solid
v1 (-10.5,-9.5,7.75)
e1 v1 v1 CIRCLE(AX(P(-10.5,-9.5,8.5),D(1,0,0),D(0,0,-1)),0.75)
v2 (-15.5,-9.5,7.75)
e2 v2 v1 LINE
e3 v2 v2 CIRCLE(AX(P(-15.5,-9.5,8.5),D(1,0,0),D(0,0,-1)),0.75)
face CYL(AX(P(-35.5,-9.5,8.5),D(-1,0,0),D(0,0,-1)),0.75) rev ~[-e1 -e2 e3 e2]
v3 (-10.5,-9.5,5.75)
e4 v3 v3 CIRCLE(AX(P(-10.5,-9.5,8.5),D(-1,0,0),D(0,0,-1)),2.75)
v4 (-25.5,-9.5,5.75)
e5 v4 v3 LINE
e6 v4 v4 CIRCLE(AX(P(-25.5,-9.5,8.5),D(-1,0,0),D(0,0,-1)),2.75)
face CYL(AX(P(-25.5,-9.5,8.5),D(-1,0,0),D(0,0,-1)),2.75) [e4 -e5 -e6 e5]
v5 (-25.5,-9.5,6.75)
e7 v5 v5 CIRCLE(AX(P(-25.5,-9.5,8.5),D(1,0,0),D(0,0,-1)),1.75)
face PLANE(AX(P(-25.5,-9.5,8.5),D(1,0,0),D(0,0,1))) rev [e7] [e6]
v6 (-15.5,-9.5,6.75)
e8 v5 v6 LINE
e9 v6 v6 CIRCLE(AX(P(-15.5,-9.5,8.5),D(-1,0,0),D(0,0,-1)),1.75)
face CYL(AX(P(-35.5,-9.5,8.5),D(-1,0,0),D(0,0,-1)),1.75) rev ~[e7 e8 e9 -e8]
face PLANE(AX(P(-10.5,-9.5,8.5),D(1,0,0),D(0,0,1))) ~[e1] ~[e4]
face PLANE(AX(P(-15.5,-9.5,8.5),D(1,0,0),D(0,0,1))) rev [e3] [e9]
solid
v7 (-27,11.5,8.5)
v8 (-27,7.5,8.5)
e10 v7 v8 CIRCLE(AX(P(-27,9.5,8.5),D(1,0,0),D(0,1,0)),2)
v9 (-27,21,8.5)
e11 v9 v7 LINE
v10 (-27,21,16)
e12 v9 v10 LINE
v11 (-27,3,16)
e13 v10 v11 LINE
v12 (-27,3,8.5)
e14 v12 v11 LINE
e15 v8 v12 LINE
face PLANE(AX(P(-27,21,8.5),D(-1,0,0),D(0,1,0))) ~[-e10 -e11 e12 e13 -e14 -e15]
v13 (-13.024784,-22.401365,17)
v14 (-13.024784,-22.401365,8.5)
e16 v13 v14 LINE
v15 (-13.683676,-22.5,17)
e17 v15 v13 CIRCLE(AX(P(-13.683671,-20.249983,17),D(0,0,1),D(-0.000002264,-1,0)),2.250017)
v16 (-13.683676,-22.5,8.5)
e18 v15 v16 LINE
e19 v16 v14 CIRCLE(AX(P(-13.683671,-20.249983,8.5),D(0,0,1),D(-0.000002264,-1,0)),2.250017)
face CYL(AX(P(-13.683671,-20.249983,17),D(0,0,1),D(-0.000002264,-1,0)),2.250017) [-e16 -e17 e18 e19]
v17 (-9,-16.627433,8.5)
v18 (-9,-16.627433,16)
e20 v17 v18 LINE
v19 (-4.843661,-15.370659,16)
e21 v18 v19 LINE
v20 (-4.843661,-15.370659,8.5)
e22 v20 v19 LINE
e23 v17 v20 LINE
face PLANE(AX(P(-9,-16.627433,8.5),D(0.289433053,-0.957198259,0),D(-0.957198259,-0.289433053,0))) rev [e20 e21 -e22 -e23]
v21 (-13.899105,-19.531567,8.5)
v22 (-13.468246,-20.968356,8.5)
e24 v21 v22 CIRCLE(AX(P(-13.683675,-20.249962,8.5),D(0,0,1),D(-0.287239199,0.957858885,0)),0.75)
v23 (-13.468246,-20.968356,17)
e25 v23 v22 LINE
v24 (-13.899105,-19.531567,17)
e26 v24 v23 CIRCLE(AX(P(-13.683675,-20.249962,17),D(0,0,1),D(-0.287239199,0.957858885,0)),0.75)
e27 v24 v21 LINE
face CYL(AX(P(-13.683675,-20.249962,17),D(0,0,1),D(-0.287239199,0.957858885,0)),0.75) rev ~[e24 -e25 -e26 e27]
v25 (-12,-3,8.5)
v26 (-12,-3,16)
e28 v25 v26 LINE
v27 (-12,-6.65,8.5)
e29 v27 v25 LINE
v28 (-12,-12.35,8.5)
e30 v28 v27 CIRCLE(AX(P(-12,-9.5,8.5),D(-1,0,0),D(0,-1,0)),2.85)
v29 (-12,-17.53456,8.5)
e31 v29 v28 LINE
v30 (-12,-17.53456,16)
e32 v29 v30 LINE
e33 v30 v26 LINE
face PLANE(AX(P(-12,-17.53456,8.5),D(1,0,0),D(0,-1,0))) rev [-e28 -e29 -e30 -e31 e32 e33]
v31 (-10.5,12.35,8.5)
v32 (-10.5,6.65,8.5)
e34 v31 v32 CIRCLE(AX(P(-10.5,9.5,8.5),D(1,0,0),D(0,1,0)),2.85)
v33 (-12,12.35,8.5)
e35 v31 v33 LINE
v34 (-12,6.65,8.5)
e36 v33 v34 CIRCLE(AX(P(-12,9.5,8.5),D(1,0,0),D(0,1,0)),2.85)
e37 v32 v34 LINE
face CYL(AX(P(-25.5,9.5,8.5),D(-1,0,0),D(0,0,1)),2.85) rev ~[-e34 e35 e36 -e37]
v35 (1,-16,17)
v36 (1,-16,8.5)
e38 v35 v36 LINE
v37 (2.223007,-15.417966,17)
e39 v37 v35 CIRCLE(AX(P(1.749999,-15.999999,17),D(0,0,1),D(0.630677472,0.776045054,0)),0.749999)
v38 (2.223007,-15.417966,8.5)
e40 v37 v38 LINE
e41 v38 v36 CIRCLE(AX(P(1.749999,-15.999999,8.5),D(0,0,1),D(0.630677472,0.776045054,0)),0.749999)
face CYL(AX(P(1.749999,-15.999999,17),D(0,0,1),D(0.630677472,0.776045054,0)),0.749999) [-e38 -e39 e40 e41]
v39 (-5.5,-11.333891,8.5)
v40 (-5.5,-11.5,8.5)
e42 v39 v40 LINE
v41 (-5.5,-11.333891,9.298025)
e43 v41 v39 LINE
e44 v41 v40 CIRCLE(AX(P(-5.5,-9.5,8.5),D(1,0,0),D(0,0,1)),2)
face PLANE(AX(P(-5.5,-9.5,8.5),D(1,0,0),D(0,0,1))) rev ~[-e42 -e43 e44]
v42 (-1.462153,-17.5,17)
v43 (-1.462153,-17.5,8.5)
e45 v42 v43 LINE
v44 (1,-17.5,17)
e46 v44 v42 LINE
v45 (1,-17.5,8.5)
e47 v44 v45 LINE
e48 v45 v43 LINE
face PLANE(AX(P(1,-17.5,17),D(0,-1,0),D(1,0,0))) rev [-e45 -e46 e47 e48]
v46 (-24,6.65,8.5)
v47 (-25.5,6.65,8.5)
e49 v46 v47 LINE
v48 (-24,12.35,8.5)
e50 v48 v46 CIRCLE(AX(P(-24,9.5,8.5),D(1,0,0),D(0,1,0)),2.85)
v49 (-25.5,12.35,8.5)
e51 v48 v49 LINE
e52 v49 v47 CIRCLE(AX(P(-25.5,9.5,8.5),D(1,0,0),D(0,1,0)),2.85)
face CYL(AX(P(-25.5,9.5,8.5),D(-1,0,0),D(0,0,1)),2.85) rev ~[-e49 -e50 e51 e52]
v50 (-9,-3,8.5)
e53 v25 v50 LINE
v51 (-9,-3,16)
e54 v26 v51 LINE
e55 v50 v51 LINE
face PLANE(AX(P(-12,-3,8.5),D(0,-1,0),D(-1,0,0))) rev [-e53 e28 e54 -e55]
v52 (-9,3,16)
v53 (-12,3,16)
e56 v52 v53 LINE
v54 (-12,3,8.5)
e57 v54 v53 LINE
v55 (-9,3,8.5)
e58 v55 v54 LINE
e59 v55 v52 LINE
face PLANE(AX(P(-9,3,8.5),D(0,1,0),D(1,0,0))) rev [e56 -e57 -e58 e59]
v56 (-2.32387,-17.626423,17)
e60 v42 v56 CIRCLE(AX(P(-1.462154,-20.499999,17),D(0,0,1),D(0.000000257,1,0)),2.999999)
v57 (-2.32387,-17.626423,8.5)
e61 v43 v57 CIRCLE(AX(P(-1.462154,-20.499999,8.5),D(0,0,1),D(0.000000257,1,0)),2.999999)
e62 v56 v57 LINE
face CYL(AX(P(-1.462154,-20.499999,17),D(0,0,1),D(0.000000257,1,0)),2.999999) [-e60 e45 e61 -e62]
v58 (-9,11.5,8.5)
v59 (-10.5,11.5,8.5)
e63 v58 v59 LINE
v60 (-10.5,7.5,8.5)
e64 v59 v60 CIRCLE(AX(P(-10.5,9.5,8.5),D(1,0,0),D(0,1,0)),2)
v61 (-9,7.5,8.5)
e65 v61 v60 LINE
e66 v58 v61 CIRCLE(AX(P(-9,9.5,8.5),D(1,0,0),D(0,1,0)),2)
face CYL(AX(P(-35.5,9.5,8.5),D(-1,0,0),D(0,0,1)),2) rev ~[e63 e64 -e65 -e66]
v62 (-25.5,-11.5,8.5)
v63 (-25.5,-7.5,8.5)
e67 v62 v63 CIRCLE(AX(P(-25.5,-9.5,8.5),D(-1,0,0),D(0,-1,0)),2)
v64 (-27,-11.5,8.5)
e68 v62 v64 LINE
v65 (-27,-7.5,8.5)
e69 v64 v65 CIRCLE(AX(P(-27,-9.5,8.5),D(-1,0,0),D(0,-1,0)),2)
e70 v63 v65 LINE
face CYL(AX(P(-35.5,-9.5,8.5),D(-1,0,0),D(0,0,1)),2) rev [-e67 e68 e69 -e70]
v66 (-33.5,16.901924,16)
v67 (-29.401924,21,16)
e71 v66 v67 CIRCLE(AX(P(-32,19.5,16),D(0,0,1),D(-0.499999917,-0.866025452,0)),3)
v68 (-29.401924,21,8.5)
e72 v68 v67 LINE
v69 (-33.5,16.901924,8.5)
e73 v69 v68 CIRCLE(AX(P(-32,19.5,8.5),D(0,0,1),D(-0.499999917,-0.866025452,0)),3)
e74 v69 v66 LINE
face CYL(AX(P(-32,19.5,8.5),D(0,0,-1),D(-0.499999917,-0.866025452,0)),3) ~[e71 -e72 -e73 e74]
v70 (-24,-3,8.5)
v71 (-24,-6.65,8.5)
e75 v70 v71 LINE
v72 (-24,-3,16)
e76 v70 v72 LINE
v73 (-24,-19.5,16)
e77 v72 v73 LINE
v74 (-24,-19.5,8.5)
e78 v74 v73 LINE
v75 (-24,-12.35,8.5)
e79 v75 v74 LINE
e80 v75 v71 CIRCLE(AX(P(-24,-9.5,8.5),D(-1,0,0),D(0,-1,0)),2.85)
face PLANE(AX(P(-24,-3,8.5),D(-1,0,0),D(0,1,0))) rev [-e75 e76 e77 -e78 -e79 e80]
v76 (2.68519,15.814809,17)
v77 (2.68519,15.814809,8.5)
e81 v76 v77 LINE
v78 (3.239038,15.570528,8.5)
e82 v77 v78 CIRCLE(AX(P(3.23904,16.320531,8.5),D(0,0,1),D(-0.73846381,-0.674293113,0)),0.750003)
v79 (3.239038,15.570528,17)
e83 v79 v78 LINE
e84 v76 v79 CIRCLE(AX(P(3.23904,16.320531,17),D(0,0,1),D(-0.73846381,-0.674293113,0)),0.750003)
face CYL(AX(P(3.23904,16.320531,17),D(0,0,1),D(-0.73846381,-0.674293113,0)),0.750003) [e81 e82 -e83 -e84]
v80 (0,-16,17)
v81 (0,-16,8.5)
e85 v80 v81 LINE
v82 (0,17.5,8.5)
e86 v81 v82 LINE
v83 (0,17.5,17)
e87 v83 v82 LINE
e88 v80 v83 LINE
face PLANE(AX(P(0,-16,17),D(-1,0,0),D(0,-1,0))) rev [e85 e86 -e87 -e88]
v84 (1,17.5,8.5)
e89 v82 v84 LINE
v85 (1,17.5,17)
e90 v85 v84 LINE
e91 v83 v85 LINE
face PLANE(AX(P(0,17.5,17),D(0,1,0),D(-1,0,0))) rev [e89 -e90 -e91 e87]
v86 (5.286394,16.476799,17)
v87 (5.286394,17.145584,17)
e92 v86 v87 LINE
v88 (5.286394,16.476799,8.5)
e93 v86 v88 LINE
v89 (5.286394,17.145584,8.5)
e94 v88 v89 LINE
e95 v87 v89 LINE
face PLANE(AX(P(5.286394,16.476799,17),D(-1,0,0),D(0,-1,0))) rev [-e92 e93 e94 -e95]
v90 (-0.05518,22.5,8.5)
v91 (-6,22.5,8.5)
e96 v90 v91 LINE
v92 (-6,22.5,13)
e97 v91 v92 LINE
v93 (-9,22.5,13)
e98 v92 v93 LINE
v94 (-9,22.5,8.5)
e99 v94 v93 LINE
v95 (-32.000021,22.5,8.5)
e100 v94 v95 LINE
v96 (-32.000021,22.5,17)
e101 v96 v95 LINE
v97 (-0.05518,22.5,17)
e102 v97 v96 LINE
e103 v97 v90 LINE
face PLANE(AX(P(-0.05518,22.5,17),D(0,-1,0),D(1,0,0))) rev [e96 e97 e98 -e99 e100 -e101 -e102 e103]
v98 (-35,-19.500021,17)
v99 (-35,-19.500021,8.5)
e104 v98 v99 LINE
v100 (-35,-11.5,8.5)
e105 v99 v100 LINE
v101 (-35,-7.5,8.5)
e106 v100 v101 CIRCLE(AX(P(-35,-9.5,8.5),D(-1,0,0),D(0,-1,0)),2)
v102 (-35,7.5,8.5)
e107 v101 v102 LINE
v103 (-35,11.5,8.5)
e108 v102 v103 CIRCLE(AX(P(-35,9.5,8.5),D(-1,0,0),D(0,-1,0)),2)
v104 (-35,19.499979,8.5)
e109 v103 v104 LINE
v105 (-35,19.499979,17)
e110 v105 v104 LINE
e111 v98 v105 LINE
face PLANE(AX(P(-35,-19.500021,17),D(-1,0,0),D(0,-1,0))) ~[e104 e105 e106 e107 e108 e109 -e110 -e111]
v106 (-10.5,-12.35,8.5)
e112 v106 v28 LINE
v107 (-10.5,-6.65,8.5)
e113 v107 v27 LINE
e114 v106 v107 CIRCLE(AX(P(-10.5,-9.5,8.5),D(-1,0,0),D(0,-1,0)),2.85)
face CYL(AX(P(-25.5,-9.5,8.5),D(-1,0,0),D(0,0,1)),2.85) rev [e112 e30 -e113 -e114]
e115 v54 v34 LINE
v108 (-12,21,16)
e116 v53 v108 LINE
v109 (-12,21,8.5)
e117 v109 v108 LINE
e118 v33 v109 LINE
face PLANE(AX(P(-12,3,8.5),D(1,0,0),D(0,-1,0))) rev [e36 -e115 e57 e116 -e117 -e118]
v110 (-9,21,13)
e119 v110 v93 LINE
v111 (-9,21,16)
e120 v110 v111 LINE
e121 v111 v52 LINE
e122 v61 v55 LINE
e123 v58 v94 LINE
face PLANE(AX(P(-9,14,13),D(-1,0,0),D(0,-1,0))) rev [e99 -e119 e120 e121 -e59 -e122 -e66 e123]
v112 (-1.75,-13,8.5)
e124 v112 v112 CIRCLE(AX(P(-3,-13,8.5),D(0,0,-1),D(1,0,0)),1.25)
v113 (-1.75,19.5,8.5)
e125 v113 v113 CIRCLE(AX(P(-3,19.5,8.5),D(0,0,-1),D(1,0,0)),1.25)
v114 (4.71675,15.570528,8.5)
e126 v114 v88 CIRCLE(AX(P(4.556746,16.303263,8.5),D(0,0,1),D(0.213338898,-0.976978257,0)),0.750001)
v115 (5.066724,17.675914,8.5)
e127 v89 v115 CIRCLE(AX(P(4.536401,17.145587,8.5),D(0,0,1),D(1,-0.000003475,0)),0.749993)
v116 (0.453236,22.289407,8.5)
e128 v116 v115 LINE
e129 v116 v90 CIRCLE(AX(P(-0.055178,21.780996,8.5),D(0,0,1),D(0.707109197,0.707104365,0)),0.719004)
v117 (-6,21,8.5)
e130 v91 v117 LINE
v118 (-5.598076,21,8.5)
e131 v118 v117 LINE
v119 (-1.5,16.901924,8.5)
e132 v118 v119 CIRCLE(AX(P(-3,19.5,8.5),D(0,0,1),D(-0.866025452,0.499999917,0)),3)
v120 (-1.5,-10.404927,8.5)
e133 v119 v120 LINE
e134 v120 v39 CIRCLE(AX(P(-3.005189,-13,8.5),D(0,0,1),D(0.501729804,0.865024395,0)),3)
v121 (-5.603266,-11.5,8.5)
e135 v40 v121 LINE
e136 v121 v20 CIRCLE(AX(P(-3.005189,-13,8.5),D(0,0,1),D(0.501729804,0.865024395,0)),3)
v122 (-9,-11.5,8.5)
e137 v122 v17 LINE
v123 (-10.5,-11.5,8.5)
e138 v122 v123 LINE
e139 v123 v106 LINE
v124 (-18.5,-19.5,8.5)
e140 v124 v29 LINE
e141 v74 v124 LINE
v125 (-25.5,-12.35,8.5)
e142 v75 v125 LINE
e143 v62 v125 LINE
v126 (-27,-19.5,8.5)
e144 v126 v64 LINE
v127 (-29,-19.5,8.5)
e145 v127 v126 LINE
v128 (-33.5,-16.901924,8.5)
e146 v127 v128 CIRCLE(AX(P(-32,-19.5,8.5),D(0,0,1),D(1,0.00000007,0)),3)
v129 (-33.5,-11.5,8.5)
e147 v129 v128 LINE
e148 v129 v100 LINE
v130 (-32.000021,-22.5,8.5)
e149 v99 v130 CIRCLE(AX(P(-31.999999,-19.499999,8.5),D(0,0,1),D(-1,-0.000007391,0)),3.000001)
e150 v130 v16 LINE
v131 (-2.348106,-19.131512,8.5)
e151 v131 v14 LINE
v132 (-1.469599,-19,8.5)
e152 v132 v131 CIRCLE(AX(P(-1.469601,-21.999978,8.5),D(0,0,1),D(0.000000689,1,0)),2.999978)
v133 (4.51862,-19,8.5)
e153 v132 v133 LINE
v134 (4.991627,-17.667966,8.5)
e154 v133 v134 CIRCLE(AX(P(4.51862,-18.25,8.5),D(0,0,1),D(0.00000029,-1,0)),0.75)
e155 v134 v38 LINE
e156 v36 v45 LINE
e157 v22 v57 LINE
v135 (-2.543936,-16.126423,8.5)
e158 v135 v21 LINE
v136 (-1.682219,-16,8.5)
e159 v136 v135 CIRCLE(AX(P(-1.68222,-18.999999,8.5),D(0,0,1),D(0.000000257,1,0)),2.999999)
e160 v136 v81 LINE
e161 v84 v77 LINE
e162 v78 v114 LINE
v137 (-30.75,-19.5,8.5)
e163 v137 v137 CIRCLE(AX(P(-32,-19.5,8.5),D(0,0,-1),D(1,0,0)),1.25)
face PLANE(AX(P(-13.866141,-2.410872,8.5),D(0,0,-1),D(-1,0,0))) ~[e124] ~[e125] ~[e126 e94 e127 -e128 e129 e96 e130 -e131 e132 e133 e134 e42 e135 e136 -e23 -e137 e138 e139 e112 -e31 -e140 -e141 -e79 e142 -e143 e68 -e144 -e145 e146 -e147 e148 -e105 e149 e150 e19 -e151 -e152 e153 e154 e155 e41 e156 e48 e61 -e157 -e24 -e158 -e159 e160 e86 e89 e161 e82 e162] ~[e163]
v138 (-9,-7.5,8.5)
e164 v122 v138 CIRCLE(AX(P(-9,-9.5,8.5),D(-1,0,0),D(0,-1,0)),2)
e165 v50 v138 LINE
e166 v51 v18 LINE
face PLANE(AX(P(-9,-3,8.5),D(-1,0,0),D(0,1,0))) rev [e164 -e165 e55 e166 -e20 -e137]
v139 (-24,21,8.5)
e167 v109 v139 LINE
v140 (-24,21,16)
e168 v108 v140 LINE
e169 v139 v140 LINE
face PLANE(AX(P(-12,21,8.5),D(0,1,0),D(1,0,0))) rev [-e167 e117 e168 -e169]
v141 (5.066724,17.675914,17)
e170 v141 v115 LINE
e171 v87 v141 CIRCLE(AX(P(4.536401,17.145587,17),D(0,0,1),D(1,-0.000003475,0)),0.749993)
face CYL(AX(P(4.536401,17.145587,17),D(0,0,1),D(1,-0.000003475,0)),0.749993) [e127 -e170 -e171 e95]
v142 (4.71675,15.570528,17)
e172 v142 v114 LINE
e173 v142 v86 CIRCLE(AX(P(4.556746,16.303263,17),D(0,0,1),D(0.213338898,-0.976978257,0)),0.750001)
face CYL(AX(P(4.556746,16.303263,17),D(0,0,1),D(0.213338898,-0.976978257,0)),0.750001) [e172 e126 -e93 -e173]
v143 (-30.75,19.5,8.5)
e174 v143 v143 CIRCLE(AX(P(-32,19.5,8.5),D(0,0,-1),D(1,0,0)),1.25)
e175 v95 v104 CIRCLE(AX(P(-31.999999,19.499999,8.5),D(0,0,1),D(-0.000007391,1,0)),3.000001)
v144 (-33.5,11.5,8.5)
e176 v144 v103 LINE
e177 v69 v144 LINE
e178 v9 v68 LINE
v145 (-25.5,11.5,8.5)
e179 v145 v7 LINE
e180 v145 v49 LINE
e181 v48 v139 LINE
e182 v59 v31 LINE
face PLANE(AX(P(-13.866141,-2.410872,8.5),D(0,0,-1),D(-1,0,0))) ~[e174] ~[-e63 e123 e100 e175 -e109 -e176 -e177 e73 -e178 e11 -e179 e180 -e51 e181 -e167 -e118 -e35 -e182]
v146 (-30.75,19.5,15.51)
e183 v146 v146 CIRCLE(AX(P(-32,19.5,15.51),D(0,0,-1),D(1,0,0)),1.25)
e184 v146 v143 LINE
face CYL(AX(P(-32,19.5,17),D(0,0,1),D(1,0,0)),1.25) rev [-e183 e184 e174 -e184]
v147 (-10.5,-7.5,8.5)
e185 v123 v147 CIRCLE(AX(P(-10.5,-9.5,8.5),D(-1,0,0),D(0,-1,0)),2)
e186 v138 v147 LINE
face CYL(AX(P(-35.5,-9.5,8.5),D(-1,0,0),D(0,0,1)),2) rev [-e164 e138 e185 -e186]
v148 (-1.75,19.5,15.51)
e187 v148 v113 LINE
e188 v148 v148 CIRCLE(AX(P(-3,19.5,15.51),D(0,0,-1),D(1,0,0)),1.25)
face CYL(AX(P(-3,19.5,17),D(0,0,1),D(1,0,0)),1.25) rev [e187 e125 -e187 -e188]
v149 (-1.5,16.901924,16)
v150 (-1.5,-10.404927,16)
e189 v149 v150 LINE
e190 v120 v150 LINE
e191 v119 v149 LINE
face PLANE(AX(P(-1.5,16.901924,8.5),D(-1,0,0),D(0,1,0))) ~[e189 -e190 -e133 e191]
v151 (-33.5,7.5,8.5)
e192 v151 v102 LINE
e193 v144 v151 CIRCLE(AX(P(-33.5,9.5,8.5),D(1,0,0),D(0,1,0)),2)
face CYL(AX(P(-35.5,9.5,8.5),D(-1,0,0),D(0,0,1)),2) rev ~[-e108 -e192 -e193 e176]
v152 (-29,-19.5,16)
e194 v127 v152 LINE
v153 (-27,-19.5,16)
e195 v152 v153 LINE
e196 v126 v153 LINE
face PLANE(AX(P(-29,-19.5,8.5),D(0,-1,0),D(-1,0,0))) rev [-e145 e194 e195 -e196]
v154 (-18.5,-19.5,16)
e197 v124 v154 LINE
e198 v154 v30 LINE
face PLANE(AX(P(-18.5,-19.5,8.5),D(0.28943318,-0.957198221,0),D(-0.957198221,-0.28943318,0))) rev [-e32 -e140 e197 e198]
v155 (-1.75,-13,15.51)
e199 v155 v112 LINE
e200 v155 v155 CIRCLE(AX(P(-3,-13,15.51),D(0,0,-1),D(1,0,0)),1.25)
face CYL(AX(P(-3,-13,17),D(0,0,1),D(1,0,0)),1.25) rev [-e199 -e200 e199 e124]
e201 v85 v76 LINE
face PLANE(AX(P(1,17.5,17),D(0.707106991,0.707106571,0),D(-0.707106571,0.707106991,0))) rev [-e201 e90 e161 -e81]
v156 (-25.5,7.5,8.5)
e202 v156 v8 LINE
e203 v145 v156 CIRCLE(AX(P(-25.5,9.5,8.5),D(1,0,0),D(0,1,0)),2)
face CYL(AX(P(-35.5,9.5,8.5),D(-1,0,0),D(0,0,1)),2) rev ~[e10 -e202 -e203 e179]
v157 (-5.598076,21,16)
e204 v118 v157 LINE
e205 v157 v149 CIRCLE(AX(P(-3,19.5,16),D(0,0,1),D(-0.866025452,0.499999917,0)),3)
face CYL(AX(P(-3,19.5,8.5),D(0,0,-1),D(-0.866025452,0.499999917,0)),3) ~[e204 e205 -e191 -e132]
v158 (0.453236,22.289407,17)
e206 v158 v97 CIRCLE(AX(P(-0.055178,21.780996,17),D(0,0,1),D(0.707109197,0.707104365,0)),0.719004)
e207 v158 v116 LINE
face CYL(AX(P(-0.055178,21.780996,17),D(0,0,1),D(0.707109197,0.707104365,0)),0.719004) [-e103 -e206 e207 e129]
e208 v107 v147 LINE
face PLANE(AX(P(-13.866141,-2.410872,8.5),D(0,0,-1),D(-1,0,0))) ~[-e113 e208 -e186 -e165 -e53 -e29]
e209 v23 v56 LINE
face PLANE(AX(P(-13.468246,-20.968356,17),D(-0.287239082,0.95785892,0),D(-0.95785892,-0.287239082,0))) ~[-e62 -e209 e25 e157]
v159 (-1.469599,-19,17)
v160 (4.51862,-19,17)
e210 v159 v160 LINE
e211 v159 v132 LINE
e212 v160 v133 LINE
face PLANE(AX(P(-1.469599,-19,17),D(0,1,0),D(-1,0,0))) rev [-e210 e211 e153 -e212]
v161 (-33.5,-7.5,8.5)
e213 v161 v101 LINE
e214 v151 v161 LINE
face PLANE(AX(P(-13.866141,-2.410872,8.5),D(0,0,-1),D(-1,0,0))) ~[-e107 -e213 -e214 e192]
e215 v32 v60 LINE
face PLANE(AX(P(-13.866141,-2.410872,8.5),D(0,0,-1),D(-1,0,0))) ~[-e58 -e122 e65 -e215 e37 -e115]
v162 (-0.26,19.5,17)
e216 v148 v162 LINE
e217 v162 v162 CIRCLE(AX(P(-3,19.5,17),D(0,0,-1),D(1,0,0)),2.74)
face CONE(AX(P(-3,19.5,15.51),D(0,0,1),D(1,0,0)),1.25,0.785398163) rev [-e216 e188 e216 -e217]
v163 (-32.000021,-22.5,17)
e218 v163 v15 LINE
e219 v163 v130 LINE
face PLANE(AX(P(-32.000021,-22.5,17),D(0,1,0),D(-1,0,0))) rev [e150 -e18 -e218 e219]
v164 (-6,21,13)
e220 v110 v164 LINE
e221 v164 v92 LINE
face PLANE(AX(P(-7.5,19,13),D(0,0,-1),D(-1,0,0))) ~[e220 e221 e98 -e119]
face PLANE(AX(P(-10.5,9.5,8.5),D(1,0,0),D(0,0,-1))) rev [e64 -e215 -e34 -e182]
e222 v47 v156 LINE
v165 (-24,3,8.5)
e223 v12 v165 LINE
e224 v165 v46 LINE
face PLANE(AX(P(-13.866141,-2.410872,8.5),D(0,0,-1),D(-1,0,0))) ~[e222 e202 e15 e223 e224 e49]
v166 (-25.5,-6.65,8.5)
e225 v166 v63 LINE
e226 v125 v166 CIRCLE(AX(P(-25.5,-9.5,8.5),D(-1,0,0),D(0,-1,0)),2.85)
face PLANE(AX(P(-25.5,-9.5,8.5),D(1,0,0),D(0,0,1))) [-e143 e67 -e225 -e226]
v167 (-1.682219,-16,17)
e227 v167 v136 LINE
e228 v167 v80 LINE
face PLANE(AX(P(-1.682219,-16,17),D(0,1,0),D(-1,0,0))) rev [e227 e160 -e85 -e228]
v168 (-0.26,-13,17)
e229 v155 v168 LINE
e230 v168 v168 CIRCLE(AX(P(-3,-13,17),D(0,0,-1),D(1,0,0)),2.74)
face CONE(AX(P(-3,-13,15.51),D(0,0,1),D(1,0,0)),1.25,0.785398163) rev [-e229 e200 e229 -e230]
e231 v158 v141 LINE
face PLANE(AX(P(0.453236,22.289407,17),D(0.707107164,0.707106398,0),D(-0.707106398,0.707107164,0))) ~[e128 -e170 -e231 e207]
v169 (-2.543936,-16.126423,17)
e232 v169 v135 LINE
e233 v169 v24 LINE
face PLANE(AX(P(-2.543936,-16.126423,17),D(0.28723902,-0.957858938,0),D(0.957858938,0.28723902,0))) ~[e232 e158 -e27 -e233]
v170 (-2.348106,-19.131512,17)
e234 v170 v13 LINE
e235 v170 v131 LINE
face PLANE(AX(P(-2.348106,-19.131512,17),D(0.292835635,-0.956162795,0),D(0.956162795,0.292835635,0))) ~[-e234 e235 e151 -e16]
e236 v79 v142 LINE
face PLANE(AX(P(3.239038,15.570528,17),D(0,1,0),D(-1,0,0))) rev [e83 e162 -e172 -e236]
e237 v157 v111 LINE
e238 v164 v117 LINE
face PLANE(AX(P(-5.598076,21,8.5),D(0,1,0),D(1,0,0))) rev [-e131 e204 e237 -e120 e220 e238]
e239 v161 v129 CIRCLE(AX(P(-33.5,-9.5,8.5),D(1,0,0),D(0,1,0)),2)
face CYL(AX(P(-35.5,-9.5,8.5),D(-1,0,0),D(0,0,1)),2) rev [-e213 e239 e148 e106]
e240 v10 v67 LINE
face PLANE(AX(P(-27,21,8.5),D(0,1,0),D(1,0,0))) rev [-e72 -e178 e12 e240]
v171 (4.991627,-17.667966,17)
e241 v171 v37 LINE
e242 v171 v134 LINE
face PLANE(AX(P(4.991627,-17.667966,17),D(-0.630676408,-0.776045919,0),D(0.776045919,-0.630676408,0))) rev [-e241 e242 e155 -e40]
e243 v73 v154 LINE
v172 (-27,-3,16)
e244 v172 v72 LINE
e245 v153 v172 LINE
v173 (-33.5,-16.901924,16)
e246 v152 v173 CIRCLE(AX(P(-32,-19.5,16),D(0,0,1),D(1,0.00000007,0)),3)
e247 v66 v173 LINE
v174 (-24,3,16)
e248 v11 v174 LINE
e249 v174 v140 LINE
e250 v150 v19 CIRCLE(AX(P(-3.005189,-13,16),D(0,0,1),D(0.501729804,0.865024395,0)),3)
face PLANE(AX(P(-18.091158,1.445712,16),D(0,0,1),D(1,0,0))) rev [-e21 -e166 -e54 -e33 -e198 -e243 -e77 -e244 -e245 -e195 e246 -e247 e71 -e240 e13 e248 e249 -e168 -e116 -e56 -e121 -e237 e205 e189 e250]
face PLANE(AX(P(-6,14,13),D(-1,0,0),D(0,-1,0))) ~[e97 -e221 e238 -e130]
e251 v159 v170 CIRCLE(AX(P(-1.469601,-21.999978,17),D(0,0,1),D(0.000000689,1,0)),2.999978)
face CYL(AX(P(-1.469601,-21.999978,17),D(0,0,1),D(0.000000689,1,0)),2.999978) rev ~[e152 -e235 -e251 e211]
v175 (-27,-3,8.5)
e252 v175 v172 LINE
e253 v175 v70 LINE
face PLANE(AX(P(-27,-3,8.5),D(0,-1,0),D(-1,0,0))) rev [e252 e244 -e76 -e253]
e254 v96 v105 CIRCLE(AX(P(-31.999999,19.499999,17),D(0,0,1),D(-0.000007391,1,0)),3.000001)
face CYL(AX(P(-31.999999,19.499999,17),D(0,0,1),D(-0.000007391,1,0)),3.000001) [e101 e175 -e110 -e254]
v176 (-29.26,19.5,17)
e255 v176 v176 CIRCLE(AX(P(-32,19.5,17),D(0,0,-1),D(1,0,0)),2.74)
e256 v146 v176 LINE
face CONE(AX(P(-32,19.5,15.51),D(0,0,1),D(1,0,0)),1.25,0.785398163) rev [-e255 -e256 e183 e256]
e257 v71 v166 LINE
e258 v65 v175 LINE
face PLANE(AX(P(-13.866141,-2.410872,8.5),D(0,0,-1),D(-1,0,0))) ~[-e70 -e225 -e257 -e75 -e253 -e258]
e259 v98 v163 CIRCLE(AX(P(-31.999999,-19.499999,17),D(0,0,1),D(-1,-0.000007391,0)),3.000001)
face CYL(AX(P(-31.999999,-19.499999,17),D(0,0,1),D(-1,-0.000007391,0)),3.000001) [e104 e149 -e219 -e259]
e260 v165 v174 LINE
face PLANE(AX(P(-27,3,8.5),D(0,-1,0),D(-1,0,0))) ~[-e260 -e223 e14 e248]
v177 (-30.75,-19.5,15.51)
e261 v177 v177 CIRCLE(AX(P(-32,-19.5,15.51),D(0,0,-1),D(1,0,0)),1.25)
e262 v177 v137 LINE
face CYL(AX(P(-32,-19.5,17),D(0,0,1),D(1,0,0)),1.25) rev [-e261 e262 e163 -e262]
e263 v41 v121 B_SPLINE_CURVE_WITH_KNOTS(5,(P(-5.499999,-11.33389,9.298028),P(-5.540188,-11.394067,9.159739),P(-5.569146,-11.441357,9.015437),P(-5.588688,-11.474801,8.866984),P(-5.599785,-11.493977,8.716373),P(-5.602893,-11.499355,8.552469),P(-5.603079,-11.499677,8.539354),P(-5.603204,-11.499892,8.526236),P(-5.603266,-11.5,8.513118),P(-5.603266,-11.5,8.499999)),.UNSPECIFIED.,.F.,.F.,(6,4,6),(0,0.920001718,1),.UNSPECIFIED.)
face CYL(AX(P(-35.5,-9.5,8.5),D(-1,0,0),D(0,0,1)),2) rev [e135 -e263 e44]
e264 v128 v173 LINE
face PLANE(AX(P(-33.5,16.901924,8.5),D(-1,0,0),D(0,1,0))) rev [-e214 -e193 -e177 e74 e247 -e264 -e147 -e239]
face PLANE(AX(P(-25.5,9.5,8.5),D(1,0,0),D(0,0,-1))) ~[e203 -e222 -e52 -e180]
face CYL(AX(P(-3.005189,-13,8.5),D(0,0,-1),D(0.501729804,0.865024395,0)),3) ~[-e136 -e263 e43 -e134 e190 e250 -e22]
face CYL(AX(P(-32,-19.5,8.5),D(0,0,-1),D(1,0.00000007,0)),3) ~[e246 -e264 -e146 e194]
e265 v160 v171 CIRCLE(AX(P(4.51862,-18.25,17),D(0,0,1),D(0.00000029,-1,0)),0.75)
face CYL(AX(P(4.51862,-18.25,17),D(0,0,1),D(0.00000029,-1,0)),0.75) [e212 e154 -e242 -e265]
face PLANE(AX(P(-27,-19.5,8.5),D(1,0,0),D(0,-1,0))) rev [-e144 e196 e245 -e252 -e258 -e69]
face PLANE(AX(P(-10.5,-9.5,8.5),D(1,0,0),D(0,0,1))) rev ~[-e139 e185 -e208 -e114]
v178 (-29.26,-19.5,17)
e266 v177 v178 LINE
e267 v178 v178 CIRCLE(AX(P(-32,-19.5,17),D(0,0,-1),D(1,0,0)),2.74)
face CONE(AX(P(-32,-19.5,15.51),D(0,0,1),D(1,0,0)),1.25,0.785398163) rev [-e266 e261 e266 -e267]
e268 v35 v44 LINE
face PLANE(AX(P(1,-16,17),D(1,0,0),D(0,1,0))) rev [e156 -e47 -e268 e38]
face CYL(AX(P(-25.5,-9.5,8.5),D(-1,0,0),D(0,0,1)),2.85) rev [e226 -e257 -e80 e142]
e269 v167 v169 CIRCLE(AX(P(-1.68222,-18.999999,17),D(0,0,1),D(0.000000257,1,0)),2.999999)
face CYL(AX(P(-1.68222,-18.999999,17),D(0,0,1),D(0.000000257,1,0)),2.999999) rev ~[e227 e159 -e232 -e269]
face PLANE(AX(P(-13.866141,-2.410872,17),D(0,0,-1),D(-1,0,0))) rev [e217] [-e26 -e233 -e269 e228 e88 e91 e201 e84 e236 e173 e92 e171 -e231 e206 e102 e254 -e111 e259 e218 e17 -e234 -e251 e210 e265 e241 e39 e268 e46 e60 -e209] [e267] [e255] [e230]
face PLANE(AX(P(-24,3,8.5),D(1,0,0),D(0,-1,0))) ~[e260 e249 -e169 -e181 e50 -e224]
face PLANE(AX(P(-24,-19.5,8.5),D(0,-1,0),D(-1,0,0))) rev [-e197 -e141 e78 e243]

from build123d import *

# Parameters (mm, degrees)
CYLINDER001001_R              = 1.75
CYLINDER001001_DEPTH          = 20
CYLINDER001001_PITCH_ANGLE    = 90
CYLINDER001001001_R           = 0.75
CYLINDER001001001_DEPTH       = 28
CYLINDER001001001_PITCH_ANGLE = 90
CYLINDER002001_R              = 2.75
CYLINDER002001_DEPTH          = 15
CYLINDER002001_PITCH_ANGLE    = 90
CYLINDER001_R                 = 2
CYLINDER001_DEPTH             = 30
CYLINDER001_PITCH_ANGLE       = 90
CYLINDER002_R                 = 2.85
CYLINDER002_DEPTH             = 15
CYLINDER002_PITCH_ANGLE       = 90
BOX_W                         = 3
BOX_H                         = 10
BOX_DEPTH                     = 10
PAD_DEPTH                     = 8.5
POCKET_DEPTH                  = 7.5
SKETCH003_R                   = 1.25
POCKET002_DEPTH               = 8.501
CHAMFER_SIZE                  = 1.49


with BuildPart() as cylinder001001:
    # Cylinder001001 → Cylinder001001 (new body)
    with BuildSketch(Plane.XY):
        Circle(CYLINDER001001_R)
    extrude(amount=CYLINDER001001_DEPTH)


with BuildPart() as cylinder001001_1:
    # Cylinder001001 pitch: moved
    add(cylinder001001.part.rotate(Axis((0, 0, 0), (0, 1, 0)), CYLINDER001001_PITCH_ANGLE))


with BuildPart() as cylinder001001_2:
    # Cylinder001001 placement: moved
    add(cylinder001001_1.part.moved(Location((-35.5, 9.5, 8.5))))


with BuildPart() as fusion001:
    # Cylinder001001001 → Cylinder001001001 (new body)
    with BuildSketch(Plane.XY):
        Circle(CYLINDER001001001_R)
    extrude(amount=CYLINDER001001001_DEPTH)


with BuildPart() as fusion001_1:
    # Cylinder001001001 pitch: moved
    add(fusion001.part.rotate(Axis((0, 0, 0), (0, 1, 0)), CYLINDER001001001_PITCH_ANGLE))


with BuildPart() as fusion001_2:
    # Cylinder001001001 placement: moved
    add(fusion001_1.part.moved(Location((-35.5, 9.5, 8.5))))

    # Fusion001: union Cylinder001001
    add(cylinder001001_2.part)


with BuildPart() as conductor:
    # Cylinder002001 → Cylinder002001 (new body)
    with BuildSketch(Plane.XY):
        Circle(CYLINDER002001_R)
    extrude(amount=CYLINDER002001_DEPTH)


with BuildPart() as conductor_1:
    # Cylinder002001 pitch: moved
    add(conductor.part.rotate(Axis((0, 0, 0), (0, 1, 0)), CYLINDER002001_PITCH_ANGLE))


with BuildPart() as conductor_2:
    # Cylinder002001 placement: moved
    add(conductor_1.part.moved(Location((-25.5, 9.5, 8.5))))

    # Cut001: cut Fusion001
    add(fusion001_2.part, mode=Mode.SUBTRACT)


with BuildPart() as part_mirroring003:
    # Part__Mirroring003: instance of conductor
    add(conductor_2.part.mirror(Plane(origin=(0, 0, 0), x_dir=(1, 0, 0), z_dir=(0, 1, 0))))


with BuildPart() as cylinder001:
    # Cylinder001 → Cylinder001 (new body)
    with BuildSketch(Plane.XY):
        Circle(CYLINDER001_R)
    extrude(amount=CYLINDER001_DEPTH)


with BuildPart() as cylinder001_1:
    # Cylinder001 pitch: moved
    add(cylinder001.part.rotate(Axis((0, 0, 0), (0, 1, 0)), CYLINDER001_PITCH_ANGLE))


with BuildPart() as cylinder001_2:
    # Cylinder001 placement: moved
    add(cylinder001_1.part.moved(Location((-35.5, 9.5, 8.5))))


with BuildPart() as part_mirroring001:
    # Part__Mirroring001: instance of Cylinder001
    add(cylinder001_2.part.mirror(Plane(origin=(0, 0, 0), x_dir=(1, 0, 0), z_dir=(0, 1, 0))))


with BuildPart() as cylinder002:
    # Cylinder002 → Cylinder002 (new body)
    with BuildSketch(Plane.XY):
        Circle(CYLINDER002_R)
    extrude(amount=CYLINDER002_DEPTH)


with BuildPart() as cylinder002_1:
    # Cylinder002 pitch: moved
    add(cylinder002.part.rotate(Axis((0, 0, 0), (0, 1, 0)), CYLINDER002_PITCH_ANGLE))


with BuildPart() as cylinder002_2:
    # Cylinder002 placement: moved
    add(cylinder002_1.part.moved(Location((-25.5, 9.5, 8.5))))


with BuildPart() as box:
    # Box → Box (new body)
    with BuildSketch(Plane(origin=(-9, 14, 4), x_dir=(1, 0, 0), z_dir=(0, 0, 1))):
        with Locations((1.5, 5)):
            Rectangle(BOX_W, BOX_H)
    extrude(amount=BOX_DEPTH)


with BuildPart() as cuts:
    # Part__Mirroring002: instance of Cylinder002
    add(cylinder002_2.part.mirror(Plane(origin=(0, 0, 0), x_dir=(1, 0, 0), z_dir=(0, 1, 0))))

    # Fusion: union Part__Mirroring001, Cylinder002, Cylinder001, Box
    add(part_mirroring001.part)
    add(cylinder002_2.part)
    add(cylinder001_2.part)
    add(box.part)


with BuildPart() as half_socket:
    # Sketch → Pad (new body)
    with BuildSketch(Plane(origin=(-3, 0, 0), x_dir=(1, 0, 0), z_dir=(0, 0, 1))):
        with BuildLine():
            Line((2.94482, 22.5), (-29.000021, 22.5))
            ThreePointArc((-29.000021, 22.5), (-31.121335, 21.621305), (-32, 19.499979))
            Line((-32, -19.500021), (-32, 19.499979))
            ThreePointArc((-32, -19.500021), (-31.12132, -21.62132), (-29.000021, -22.5))
            Line((-29.000021, -22.5), (-10.683676, -22.5))
            ThreePointArc((-10.683676, -22.5), (-10.350559, -22.475205), (-10.024784, -22.401365))
            Line((0.651894, -19.131512), (-10.024784, -22.401365))
            ThreePointArc((1.530401, -19), (1.086253, -19.03306), (0.651894, -19.131512))
            Line((1.530401, -19), (7.51862, -19))
            ThreePointArc((7.51862, -19), (8.225382, -18.500972), (7.991627, -17.667966))
            Line((7.991627, -17.667966), (5.223007, -15.417966))
            ThreePointArc((5.223007, -15.417966), (4.427708, -15.322779), (4, -16))
            Line((4, -16), (4, -17.5))
            Line((4, -17.5), (1.537847, -17.5))
            ThreePointArc((1.537847, -17.5), (1.102376, -17.531774), (0.67613, -17.626423))
            Line((-10.468246, -20.968356), (0.67613, -17.626423))
            ThreePointArc((-10.899105, -19.531567), (-11.40207, -20.465391), (-10.468246, -20.968356))
            Line((0.456064, -16.126423), (-10.899105, -19.531567))
            ThreePointArc((1.317781, -16), (0.88231, -16.031774), (0.456064, -16.126423))
            Line((1.317781, -16), (3, -16))
            Line((3, -16), (3, 17.5))
            Line((3, 17.5), (4, 17.5))
            Line((4, 17.5), (5.68519, 15.814809))
            ThreePointArc((5.68519, 15.814809), (5.936374, 15.634311), (6.239038, 15.570528))
            Line((6.239038, 15.570528), (7.71675, 15.570528))
            ThreePointArc((7.71675, 15.570528), (8.191728, 15.90414), (8.286394, 16.476799))
            Line((8.286394, 16.476799), (8.286394, 17.145584))
            ThreePointArc((8.286394, 17.145584), (8.229304, 17.432597), (8.066724, 17.675914))
            Line((3.453236, 22.289407), (8.066724, 17.675914))
            ThreePointArc((3.453236, 22.289407), (3.219973, 22.445269), (2.94482, 22.5))
        make_face()
    extrude(amount=PAD_DEPTH)

    # Sketch002001 → Pocket (cut)
    with BuildSketch(Plane(origin=(-3, 0, 8.5), x_dir=(1, 0, 0), z_dir=(0, 0, 1))):
        with BuildLine():
            Line((1.5, 16.901924), (1.5, -10.404927))
            ThreePointArc((1.5, -10.404927), (-2.493641, -11.324408), (-1.843661, -15.370659))
            Line((-6, -16.627433), (-1.843661, -15.370659))
            Line((-6, -3), (-6, -16.627433))
            Line((-9, -3), (-6, -3))
            Line((-9, -17.53456), (-9, -3))
            Line((-15.5, -19.5), (-9, -17.53456))
            Line((-21, -19.5), (-15.5, -19.5))
            Line((-21, -3), (-21, -19.5))
            Line((-24, -3), (-21, -3))
            Line((-24, -19.5), (-24, -3))
            Line((-26, -19.5), (-24, -19.5))
            ThreePointArc((-26, -19.5), (-27.5, -16.901924), (-30.5, -16.901924))
            Line((-30.5, 16.901924), (-30.5, -16.901924))
            ThreePointArc((-30.5, 16.901924), (-26.87868, 17.37868), (-26.401924, 21))
            Line((-24, 21), (-26.401924, 21))
            Line((-24, 21), (-24, 3))
            Line((-24, 3), (-21, 3))
            Line((-21, 3), (-21, 21))
            Line((-9, 21), (-21, 21))
            Line((-9, 3), (-9, 21))
            Line((-6, 3), (-9, 3))
            Line((-6, 21), (-6, 3))
            Line((-2.598076, 21), (-6, 21))
            ThreePointArc((-2.598076, 21), (-2.12132, 17.37868), (1.5, 16.901924))
        make_face()
    extrude(amount=-POCKET_DEPTH, mode=Mode.SUBTRACT)

    # Sketch003 → Pocket002 (cut, through all)
    with BuildSketch(Plane(origin=(-3, 0, 0), x_dir=(1, 0, 0), z_dir=(0, 0, -1))):
        with Locations((-29, 19.5)):
            Circle(SKETCH003_R)
        with Locations((-29, -19.5)):
            Circle(SKETCH003_R)
        with Locations((0, 13)):
            Circle(SKETCH003_R)
        with Locations((0, -19.5)):
            Circle(SKETCH003_R)
    extrude(amount=-POCKET002_DEPTH, mode=Mode.SUBTRACT)

    # Cut: cut cuts
    add(cuts.part, mode=Mode.SUBTRACT)


with BuildPart() as chamfer_body:
    # Part__Mirroring: instance of half socket
    add(half_socket.part.mirror(Plane(origin=(0, 0, 8.5), x_dir=(0, 1, 0), z_dir=(0, 0, 1))))

    # Chamfer
    chamfer_edges = [chamfer_body.edges().sort_by_distance(p)[0] for p in [
        (-4.25, -13, 17),
        (-4.25, 19.5, 17),
        (-33.25, 19.5, 17),
        (-33.25, -19.5, 17),
    ]]
    chamfer(chamfer_edges, length=CHAMFER_SIZE)


solid = Compound([part_mirroring003.part, chamfer_body.part])
